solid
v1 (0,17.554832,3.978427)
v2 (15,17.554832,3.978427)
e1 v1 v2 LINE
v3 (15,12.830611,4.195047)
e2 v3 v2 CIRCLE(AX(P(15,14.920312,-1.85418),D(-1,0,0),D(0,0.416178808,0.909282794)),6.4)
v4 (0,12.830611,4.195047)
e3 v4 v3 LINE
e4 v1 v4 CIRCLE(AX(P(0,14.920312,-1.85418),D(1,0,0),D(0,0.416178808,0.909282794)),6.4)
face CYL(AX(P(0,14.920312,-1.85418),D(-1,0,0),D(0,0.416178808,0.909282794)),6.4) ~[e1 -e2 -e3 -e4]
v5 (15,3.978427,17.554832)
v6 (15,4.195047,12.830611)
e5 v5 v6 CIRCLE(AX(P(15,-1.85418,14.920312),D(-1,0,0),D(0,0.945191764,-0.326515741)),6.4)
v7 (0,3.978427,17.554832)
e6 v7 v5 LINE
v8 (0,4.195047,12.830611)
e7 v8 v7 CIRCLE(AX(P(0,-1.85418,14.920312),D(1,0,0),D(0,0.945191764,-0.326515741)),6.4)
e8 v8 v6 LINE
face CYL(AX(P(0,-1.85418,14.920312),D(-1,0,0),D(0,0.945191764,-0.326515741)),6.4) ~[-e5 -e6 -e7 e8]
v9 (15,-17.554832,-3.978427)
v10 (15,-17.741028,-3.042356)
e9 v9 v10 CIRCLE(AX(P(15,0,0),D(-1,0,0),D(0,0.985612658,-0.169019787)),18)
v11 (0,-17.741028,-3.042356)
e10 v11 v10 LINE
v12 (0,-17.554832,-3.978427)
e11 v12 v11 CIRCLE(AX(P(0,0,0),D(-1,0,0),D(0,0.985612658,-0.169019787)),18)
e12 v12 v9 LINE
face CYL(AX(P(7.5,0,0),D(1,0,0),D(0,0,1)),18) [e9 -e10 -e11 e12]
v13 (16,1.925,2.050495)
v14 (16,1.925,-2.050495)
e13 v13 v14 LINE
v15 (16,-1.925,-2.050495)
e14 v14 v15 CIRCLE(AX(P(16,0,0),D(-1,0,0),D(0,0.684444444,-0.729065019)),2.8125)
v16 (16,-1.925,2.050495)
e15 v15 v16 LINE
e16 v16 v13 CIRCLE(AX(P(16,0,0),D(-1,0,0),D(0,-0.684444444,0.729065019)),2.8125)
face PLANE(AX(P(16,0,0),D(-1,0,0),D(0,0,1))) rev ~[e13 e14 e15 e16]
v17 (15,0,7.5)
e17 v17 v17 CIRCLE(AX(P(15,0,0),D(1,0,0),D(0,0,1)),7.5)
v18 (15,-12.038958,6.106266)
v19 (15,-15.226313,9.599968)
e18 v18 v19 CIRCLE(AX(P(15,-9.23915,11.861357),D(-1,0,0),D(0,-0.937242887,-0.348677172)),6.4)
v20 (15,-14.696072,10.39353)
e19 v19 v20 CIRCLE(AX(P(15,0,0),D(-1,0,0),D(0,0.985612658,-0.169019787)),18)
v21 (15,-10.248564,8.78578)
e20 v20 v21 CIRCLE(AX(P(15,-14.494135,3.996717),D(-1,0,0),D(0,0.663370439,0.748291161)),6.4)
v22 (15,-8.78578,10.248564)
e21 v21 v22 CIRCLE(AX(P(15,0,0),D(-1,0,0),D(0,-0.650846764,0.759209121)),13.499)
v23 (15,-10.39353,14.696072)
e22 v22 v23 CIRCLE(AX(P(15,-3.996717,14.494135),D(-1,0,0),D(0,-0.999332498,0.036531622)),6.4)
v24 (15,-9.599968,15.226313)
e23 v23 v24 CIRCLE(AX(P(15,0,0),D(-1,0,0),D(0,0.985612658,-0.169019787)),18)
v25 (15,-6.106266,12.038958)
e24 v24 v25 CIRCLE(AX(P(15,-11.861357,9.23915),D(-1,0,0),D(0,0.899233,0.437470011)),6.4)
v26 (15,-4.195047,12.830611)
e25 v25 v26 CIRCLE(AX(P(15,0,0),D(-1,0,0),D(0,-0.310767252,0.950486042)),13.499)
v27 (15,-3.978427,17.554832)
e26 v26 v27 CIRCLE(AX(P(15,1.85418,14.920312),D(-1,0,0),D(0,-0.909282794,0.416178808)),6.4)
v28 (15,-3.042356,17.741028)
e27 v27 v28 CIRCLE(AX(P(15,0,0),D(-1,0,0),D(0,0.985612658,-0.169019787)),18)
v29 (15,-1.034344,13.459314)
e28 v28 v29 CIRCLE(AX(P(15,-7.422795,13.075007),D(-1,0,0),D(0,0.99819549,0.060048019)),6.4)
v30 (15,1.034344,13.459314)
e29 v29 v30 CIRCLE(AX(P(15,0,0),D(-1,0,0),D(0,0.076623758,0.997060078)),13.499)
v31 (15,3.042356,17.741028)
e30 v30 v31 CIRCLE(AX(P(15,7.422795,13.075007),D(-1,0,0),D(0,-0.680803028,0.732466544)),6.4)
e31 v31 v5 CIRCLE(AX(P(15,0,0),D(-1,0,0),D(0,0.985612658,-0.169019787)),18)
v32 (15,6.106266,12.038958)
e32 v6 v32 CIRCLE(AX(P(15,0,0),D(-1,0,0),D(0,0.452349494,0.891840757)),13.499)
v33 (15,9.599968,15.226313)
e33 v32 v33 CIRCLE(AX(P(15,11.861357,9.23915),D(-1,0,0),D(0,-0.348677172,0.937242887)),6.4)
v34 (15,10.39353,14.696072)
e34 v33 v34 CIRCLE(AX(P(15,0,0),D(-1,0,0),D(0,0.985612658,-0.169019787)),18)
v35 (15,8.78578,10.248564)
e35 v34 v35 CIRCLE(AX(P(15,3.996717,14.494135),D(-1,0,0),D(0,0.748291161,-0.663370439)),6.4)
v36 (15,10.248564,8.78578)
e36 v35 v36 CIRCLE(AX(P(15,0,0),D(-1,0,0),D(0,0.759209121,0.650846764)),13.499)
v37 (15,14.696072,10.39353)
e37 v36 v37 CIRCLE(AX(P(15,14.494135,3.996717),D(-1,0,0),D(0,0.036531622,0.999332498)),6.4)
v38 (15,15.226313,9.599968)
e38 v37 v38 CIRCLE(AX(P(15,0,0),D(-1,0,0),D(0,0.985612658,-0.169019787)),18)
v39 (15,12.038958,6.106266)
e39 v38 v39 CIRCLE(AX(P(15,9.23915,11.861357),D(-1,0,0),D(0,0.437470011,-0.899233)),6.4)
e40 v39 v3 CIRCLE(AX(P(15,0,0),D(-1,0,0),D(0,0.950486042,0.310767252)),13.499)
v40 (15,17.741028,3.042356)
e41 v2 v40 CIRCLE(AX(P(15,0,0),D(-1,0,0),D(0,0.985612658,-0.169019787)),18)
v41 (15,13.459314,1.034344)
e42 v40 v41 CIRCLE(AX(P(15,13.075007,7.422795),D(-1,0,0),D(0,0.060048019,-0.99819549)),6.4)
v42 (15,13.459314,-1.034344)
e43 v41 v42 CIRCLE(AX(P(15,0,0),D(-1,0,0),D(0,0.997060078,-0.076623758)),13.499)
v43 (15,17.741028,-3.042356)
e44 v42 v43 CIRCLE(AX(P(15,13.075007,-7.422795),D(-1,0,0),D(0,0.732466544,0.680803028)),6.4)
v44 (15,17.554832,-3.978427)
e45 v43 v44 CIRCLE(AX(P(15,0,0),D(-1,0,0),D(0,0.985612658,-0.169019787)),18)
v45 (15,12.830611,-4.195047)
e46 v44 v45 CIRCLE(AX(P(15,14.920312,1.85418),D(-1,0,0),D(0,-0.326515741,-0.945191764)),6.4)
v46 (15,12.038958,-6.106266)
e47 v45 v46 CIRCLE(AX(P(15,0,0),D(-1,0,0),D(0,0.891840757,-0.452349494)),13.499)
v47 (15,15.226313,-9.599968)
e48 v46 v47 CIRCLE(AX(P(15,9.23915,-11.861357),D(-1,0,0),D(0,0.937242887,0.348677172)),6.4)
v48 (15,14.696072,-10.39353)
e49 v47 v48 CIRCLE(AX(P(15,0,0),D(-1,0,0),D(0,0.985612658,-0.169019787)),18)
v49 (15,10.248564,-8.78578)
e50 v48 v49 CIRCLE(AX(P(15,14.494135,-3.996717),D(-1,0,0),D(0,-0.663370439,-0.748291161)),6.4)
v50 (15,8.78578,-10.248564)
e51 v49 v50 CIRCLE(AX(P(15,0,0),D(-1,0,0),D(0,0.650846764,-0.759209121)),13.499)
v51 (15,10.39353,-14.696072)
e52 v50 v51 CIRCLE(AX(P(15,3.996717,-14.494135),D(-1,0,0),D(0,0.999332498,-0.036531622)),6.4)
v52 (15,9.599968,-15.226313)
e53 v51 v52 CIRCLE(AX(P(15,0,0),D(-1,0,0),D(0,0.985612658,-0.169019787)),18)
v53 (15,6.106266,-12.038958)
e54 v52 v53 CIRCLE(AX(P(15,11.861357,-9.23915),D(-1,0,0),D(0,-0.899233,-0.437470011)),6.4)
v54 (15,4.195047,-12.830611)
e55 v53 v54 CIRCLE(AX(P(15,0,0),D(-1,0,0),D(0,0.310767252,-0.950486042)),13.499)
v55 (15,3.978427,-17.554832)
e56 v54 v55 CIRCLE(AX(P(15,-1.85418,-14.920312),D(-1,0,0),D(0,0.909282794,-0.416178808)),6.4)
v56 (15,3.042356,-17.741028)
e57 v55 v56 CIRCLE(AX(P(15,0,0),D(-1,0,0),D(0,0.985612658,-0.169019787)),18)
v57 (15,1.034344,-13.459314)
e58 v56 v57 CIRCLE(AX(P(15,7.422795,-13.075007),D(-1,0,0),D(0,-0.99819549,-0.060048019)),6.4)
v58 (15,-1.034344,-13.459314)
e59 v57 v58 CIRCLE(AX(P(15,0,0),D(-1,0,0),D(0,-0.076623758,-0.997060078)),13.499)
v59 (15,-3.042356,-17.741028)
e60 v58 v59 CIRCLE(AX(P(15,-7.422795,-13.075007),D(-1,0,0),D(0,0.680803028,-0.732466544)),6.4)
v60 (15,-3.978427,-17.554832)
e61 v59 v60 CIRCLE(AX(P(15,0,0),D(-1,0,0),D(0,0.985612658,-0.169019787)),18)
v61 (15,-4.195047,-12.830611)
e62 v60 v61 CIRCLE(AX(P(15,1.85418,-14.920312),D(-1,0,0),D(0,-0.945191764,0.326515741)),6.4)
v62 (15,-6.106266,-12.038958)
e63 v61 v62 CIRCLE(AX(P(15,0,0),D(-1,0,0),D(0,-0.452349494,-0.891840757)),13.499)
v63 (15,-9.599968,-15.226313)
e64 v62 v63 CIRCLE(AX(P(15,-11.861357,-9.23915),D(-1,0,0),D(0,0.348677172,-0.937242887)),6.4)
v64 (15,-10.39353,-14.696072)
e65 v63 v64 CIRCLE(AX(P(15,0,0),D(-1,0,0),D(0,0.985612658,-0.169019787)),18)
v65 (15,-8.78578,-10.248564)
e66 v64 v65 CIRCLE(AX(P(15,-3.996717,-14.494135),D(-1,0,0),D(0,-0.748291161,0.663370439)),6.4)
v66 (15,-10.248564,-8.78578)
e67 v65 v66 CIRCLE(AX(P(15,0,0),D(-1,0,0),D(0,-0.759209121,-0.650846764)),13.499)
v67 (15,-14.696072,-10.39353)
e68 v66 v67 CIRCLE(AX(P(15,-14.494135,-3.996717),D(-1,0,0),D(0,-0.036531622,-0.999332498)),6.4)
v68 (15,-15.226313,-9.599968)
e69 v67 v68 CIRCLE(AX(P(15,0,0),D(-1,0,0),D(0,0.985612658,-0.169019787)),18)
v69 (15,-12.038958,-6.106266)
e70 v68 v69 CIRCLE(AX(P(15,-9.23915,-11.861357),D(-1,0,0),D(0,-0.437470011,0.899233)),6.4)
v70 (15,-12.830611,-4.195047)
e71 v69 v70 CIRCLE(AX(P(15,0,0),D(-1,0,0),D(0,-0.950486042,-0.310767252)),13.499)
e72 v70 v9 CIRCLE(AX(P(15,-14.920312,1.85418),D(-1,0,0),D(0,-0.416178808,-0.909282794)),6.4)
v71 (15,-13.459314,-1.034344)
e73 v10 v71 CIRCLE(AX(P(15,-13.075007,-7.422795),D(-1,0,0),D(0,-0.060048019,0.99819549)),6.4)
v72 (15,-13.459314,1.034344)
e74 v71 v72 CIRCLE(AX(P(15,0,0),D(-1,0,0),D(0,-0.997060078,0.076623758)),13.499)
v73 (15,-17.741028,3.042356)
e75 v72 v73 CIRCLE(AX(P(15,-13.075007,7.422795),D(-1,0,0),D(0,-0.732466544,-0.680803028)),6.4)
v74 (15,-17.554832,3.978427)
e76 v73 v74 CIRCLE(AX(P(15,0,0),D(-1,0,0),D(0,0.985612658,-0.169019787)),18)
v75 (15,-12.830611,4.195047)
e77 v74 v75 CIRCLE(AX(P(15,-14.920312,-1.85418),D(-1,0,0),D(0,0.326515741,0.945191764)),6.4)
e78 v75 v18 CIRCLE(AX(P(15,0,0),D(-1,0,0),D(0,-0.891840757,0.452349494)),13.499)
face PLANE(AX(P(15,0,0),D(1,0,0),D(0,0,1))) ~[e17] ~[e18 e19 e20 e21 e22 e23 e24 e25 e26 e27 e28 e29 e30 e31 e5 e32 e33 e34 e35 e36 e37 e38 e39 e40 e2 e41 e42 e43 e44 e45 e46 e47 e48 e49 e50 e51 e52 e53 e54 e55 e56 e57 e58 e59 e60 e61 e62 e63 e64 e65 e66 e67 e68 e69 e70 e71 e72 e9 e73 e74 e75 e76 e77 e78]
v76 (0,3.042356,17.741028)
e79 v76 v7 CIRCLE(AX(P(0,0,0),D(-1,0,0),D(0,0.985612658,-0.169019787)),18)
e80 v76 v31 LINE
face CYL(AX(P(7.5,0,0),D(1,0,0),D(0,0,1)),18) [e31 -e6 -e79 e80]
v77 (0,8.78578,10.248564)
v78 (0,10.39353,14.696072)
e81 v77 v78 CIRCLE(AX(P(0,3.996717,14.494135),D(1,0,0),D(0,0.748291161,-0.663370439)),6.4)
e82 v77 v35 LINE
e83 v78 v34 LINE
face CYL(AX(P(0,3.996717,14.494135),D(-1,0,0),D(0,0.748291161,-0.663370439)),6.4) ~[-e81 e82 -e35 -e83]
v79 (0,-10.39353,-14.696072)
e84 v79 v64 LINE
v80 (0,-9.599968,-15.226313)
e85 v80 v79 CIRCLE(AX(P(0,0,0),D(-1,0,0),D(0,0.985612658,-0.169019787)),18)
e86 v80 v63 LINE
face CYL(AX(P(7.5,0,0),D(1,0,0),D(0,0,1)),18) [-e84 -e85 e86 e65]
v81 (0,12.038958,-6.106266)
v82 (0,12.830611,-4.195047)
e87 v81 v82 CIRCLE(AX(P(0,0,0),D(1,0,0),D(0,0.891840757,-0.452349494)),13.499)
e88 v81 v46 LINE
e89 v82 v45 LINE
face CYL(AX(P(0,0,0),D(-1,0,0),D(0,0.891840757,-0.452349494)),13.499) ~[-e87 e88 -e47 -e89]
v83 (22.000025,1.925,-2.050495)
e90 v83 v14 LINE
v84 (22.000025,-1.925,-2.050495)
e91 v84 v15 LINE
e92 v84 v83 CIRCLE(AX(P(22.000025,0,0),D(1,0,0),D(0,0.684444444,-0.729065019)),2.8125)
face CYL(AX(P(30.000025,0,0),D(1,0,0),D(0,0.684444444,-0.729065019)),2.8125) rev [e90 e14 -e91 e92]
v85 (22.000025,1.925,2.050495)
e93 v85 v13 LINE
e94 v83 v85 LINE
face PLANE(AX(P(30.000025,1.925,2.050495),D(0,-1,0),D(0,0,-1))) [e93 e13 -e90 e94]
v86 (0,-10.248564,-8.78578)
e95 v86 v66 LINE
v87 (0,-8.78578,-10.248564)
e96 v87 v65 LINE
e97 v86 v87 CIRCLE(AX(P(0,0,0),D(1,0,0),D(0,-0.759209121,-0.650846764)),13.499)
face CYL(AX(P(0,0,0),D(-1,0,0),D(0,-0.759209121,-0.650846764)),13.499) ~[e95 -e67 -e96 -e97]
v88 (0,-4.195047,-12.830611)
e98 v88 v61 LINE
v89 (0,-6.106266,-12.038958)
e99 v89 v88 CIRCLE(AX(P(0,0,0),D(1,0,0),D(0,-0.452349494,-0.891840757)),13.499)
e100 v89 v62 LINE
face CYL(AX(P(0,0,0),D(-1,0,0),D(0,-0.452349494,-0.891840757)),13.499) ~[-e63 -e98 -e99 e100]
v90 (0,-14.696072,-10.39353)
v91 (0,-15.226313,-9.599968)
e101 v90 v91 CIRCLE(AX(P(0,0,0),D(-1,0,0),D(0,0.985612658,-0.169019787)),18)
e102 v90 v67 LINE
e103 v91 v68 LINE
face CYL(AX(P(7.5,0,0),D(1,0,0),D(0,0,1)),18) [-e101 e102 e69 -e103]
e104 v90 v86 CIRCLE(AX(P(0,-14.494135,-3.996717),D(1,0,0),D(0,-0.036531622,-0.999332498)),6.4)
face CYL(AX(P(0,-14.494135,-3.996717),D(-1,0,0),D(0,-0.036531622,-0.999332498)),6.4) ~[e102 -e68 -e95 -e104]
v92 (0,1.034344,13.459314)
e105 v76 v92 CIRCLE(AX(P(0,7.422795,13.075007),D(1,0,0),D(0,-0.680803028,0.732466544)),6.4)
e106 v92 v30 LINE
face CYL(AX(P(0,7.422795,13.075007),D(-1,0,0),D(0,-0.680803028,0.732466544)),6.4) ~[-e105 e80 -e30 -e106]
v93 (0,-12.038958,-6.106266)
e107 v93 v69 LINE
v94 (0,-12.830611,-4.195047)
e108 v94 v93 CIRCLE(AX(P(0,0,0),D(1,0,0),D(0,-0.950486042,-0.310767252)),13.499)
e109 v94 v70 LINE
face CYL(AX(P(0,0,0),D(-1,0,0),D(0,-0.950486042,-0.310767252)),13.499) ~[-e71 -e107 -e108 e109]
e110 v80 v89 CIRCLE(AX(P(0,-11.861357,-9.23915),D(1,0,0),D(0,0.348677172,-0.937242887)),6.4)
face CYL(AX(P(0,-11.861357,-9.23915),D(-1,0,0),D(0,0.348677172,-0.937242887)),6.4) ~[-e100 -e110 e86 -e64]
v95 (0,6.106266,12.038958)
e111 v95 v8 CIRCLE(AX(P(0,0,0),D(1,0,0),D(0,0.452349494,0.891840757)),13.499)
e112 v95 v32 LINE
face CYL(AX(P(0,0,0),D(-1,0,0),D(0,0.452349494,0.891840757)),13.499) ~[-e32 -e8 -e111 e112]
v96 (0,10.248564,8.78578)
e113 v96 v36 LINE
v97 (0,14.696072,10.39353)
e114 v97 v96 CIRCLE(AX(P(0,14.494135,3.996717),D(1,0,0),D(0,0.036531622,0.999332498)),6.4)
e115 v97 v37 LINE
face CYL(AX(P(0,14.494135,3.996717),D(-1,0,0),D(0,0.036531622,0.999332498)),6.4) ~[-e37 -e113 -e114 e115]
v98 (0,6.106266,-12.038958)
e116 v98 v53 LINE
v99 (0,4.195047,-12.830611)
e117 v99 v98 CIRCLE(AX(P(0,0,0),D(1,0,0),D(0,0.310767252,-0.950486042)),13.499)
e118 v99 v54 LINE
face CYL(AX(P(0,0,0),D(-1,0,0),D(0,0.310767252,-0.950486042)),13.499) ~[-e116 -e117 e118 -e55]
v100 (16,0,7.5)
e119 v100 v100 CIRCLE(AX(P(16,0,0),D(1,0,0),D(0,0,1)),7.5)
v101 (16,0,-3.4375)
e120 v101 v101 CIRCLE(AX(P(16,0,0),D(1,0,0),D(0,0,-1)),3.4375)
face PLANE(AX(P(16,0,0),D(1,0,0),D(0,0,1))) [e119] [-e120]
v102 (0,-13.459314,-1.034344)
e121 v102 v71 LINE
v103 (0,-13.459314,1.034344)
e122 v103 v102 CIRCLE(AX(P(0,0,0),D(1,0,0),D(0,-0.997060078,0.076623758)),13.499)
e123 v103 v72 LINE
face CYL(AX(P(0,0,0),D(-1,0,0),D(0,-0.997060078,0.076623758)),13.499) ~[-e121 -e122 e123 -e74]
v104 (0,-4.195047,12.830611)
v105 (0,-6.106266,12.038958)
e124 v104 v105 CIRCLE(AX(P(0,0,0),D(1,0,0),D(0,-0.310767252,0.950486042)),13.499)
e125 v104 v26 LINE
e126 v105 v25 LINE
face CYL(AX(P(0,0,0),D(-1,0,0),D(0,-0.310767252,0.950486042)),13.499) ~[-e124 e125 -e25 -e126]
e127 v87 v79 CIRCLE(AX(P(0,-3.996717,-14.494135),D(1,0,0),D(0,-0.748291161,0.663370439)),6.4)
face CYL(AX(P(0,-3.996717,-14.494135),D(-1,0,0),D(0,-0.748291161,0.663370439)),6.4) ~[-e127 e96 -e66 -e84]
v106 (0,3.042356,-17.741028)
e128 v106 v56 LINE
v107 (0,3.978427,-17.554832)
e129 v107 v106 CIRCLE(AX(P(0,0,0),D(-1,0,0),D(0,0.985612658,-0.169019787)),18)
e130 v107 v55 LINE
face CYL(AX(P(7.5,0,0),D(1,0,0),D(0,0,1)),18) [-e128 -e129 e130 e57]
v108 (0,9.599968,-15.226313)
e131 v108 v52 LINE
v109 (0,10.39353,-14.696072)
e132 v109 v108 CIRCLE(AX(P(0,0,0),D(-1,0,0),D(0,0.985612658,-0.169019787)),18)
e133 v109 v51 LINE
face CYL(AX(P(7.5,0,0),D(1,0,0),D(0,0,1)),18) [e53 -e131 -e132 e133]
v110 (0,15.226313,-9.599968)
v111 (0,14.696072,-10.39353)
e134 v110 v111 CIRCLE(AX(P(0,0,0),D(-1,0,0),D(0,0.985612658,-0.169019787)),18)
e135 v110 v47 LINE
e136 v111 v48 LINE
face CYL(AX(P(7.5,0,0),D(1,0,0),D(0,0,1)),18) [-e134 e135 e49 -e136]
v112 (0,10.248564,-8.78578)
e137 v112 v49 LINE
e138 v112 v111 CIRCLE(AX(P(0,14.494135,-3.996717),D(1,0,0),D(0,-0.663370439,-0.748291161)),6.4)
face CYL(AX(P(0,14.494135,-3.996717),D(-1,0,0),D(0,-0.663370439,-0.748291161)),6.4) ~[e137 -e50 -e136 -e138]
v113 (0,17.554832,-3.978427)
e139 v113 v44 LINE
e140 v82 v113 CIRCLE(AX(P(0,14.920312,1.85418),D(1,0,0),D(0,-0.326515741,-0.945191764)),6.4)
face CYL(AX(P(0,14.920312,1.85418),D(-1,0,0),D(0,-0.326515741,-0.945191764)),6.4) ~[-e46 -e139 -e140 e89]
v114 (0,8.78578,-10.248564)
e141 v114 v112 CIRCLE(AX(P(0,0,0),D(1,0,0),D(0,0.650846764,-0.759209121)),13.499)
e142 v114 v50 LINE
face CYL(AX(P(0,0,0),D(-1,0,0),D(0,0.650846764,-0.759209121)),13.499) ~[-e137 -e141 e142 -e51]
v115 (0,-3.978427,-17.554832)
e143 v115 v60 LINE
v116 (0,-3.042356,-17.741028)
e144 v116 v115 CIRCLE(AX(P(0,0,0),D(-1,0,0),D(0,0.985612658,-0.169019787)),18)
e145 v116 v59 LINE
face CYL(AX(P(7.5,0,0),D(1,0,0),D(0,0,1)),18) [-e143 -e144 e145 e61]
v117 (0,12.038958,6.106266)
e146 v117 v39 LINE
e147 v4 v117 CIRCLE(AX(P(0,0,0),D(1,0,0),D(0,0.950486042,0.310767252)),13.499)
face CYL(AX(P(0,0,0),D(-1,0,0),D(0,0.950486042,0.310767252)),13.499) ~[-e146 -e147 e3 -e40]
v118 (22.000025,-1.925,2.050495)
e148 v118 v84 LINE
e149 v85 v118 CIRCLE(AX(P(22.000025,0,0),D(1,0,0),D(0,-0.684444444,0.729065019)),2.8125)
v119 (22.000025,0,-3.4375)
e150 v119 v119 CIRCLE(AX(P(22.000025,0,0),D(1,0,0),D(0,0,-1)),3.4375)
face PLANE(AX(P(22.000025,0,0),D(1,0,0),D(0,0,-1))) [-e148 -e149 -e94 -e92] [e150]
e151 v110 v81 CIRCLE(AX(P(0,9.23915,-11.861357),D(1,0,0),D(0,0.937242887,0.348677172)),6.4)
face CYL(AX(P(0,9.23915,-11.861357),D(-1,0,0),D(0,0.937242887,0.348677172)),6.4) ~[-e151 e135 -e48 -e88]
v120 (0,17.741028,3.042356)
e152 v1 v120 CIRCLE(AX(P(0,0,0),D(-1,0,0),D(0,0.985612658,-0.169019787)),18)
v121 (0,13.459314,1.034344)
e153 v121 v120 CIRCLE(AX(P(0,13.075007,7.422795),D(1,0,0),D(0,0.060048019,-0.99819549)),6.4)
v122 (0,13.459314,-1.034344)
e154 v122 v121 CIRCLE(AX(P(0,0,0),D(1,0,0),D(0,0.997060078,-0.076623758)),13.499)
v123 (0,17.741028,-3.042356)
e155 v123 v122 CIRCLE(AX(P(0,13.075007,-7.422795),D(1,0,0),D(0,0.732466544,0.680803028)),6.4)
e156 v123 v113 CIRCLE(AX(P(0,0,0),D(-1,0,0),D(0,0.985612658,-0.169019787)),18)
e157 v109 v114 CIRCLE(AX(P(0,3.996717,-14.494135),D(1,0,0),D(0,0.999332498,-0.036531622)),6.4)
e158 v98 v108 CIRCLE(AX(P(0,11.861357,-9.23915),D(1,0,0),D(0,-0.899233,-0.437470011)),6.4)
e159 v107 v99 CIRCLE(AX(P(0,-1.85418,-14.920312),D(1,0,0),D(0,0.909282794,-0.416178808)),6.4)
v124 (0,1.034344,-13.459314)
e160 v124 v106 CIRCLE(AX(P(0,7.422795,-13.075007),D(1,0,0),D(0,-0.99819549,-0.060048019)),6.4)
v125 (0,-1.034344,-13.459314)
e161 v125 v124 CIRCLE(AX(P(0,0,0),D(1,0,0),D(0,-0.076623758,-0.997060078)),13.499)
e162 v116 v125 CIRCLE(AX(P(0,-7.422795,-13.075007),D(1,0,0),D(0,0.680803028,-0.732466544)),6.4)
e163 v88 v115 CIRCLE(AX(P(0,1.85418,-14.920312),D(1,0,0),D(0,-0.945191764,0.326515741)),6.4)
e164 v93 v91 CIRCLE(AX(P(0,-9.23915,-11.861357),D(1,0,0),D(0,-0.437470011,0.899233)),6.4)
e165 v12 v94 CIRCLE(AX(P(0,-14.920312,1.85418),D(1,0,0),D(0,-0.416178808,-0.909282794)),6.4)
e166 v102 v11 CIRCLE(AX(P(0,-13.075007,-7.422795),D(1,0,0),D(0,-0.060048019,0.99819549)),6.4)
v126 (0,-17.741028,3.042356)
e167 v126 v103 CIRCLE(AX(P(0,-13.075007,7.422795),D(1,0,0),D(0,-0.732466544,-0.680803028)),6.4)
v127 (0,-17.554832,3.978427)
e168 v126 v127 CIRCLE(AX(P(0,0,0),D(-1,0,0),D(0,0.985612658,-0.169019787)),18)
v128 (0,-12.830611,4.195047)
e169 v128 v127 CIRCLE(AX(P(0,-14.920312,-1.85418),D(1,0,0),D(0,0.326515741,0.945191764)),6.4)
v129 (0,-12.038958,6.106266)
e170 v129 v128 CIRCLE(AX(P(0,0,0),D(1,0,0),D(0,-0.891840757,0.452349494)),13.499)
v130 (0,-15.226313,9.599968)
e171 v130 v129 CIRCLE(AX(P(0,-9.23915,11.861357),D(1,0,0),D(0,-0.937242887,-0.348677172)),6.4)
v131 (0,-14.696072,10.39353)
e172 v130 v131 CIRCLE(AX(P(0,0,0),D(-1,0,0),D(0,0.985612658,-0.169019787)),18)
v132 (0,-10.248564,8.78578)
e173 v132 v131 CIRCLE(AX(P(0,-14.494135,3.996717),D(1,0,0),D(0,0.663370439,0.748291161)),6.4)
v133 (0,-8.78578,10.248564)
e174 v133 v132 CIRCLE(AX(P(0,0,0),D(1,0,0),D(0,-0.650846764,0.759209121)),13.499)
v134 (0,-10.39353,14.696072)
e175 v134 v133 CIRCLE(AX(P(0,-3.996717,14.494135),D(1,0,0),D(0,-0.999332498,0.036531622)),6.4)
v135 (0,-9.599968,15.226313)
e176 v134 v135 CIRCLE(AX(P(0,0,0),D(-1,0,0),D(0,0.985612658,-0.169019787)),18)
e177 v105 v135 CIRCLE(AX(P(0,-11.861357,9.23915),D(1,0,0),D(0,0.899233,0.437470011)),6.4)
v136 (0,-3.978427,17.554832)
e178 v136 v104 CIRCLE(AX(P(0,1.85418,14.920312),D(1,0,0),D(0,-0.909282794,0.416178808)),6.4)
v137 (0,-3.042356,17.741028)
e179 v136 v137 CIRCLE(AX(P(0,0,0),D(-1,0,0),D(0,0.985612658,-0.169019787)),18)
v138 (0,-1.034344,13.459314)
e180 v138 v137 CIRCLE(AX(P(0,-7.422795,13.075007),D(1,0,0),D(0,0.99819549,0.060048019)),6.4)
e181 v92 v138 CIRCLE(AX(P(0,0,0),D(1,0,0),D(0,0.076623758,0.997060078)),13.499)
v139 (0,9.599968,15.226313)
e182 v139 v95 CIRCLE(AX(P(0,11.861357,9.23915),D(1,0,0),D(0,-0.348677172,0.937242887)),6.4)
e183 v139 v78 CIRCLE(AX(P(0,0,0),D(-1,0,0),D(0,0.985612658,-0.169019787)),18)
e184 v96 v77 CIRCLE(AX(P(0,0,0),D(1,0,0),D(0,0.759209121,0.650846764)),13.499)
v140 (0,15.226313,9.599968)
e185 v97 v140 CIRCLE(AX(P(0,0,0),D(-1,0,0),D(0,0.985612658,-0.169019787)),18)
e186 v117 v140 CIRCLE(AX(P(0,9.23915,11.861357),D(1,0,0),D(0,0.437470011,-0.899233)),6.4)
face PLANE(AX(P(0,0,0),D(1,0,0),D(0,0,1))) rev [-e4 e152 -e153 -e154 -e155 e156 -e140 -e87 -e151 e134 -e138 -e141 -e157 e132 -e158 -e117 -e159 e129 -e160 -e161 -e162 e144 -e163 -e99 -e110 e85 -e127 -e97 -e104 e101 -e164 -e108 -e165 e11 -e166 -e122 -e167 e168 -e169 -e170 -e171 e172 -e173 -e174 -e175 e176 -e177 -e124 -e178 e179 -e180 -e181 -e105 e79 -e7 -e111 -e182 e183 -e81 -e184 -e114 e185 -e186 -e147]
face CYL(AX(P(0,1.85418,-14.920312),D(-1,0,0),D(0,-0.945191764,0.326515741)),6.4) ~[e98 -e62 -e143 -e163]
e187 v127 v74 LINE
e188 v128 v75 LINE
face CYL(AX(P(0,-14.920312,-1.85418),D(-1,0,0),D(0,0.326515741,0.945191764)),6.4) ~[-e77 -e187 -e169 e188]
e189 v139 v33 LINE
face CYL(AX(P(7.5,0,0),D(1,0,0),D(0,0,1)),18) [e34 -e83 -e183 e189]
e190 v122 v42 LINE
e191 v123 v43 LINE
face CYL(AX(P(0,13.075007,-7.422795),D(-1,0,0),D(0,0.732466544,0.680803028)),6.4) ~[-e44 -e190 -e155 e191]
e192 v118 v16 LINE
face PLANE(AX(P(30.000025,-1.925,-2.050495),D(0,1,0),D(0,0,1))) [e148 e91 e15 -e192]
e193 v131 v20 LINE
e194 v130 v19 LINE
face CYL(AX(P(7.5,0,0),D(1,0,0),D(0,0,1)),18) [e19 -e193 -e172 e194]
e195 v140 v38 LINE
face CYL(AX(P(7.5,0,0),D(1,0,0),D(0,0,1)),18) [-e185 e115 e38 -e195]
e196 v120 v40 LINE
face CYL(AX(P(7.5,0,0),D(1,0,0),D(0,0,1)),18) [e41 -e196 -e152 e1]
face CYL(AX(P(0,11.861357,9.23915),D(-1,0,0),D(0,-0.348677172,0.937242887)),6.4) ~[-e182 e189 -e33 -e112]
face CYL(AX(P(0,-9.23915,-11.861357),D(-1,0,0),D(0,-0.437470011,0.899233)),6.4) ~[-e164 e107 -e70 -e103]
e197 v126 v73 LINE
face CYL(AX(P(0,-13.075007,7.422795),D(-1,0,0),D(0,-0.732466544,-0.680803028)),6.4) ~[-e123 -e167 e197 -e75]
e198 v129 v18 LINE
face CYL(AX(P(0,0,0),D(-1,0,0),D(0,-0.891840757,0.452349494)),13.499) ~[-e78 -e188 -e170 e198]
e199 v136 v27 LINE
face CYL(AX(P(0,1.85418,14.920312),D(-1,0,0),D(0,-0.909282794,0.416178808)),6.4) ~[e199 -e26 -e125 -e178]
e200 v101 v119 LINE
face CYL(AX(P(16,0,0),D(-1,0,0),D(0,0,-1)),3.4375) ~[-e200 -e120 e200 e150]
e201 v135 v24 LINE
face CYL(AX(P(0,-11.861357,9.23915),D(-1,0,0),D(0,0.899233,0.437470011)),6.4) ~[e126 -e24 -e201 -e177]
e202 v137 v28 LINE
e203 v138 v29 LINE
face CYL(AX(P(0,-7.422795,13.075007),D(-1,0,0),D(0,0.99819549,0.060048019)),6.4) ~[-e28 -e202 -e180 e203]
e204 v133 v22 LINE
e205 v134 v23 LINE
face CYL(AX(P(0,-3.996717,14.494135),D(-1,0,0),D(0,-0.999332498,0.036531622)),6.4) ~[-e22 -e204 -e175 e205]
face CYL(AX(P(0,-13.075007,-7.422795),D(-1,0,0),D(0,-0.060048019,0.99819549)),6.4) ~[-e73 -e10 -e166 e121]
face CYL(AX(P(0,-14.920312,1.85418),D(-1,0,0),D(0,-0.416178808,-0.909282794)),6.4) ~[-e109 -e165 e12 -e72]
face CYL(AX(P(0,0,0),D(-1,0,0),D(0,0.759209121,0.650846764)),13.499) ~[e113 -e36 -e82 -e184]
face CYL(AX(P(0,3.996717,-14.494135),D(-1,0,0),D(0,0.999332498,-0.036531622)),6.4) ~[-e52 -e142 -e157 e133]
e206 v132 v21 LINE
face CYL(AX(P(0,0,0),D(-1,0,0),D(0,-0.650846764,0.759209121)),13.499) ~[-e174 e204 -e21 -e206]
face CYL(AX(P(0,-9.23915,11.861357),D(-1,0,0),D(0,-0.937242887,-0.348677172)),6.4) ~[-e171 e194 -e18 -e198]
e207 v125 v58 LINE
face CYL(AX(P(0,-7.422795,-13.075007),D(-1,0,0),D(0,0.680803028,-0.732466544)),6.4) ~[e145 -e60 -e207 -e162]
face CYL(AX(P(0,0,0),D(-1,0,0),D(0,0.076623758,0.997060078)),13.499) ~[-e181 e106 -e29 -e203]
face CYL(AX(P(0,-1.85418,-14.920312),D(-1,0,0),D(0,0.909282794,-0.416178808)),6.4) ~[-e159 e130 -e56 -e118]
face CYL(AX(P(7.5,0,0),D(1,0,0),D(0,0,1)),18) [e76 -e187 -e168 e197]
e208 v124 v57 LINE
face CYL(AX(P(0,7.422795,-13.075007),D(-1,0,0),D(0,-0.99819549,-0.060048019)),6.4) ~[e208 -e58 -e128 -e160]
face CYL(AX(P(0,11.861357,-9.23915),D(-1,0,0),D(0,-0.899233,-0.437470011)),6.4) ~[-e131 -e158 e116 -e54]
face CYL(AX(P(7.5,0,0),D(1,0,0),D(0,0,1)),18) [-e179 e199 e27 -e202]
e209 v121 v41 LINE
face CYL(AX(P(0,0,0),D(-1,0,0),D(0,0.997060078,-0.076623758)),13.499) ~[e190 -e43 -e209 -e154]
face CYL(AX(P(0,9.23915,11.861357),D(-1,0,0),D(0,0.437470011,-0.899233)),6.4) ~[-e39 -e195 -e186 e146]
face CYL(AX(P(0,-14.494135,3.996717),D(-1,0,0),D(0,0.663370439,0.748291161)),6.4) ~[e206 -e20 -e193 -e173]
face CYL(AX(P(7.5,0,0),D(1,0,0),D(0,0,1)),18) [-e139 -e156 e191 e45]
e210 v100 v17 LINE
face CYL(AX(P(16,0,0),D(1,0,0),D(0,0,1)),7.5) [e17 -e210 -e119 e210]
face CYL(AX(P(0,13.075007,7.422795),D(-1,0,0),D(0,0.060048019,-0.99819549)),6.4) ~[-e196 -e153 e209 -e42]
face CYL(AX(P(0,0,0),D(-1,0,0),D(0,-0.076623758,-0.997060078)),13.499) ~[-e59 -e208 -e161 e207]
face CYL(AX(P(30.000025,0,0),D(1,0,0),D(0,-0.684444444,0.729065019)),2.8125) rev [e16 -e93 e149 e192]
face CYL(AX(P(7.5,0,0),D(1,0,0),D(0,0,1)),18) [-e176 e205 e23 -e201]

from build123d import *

# Parameters (mm, degrees)
BASPROSKE_W         = 15
BASPROSKE_H         = 18
TOOTHCUT_DEPTH      = 30.546573405
TEETHCUTS_COUNT     = 16
TEETHCUTS_ANGLE     = 337.5
HUBNEABOTSKE_R      = 5
HUBNEARBOTH_DEPTH   = 15.0000254
HUBFAR_START        = 15.0000254
HUBFARSKE_R         = 5
HUBFAR_DEPTH        = 15.0000254
BORSKE_R            = 2.5
BORE_DEPTH          = 45.0000508
CUT_EXTRUDE1_START  = -15.0000254
SKETCH3_R           = 5
CUT_EXTRUDE1_DEPTH  = 15.0000254
BOSS_EXTRUDE1_START = -20
SKETCH5_R           = 2.5
BOSS_EXTRUDE1_DEPTH = 20
BOSS_EXTRUDE2_START = 1
SKETCH6_R           = 7.5
SKETCH6_R_2         = 5
BOSS_EXTRUDE2_DEPTH = 1
SKETCH7_R           = 7.5
SKETCH7_R_2         = 3.4375
CUT_EXTRUDE2_DEPTH  = 30.757152718
BOSS_EXTRUDE3_START = 10.0000254
SKETCH8_R           = 2.5
BOSS_EXTRUDE3_DEPTH = 10.0000254
SKETCH10_OUTSIDE_W  = 49.174
SKETCH10_OUTSIDE_H  = 49.174
SKETCH10_OUTSIDE_R  = 3.4375
CUT_EXTRUDE3_DEPTH  = 14.0000254
CUT_EXTRUDE4_START  = -8
SKETCH12_R          = 3.4375
CUT_EXTRUDE4_DEPTH  = 8


with BuildPart() as part:
    # BasProSke → Base-Revolve (revolve)
    with BuildSketch(Plane(origin=(0, 0, 0), x_dir=(1, 0, 0), z_dir=(0, 1, 0)), mode=Mode.PRIVATE) as base_revolve_sk:
        with Locations((7.5, 9)):
            Rectangle(BASPROSKE_W, BASPROSKE_H)
    revolve(base_revolve_sk.sketch.rotate(Axis((-10, 0, 0), (1, 0, 0)), 180), axis=Axis((-10, 0, 0), (1, 0, 0)))

    # TooCutSke → ToothCut (cut, through all)
    with BuildSketch(Plane(origin=(0, 0, 0), x_dir=(0, 0, -1), z_dir=(1, 0, 0))):
        with BuildLine():
            ThreePointArc((1.03434411, 13.459313997), (0, 13.499), (-1.03434411, 13.459313997))
            ThreePointArc((-1.03434411, 13.459313997), (-1.635143665, 15.806872195), (-3.065655864, 17.762792553))
            ThreePointArc((-3.065655864, 17.762792553), (0, 18.0254), (3.065655864, 17.762792553))
            ThreePointArc((3.065655864, 17.762792553), (1.635143665, 15.806872195), (1.03434411, 13.459313997))
        make_face()
    toothcut = extrude(amount=TOOTHCUT_DEPTH, mode=Mode.SUBTRACT)

    # TeethCuts: ToothCut ×16 about axis
    teethcuts_axis = Axis((-10, 0, 0), (1, 0, 0))
    for i in range(1, TEETHCUTS_COUNT):
        add(toothcut.rotate(teethcuts_axis, i * TEETHCUTS_ANGLE / (TEETHCUTS_COUNT - 1)), mode=Mode.SUBTRACT)

    # HubNeaBotSke → HubNearBoth (add)
    with BuildSketch(Plane.ZY):
        with Locations(Location((0, 0, 0), (0, 0, 180))):
            Circle(HUBNEABOTSKE_R)
    extrude(amount=HUBNEARBOTH_DEPTH)

    # HubFarSke → HubFar (add)
    with BuildSketch(Plane(origin=(15, 0, 0), x_dir=(0, 0, -1), z_dir=(1, 0, 0)).offset(HUBFAR_START)):
        Circle(HUBFARSKE_R)
    extrude(amount=-HUBFAR_DEPTH)

    # BorSke → Bore (cut, symmetric)
    with BuildSketch(Plane(origin=(0, 0, 0), x_dir=(0, 0, -1), z_dir=(1, 0, 0))):
        with Locations(Location((0, 0, 0), (0, 0, 180))):
            Circle(BORSKE_R)
    extrude(amount=BORE_DEPTH, both=True, mode=Mode.SUBTRACT)

    # Sketch3 → Cut-Extrude1 (cut)
    with BuildSketch(Plane.ZY.offset(15.0000254).offset(CUT_EXTRUDE1_START)):
        Circle(SKETCH3_R)
    extrude(amount=CUT_EXTRUDE1_DEPTH, mode=Mode.SUBTRACT)

    # Sketch5 → Boss-Extrude1 (add)
    with BuildSketch(Plane.ZY.offset(BOSS_EXTRUDE1_START)):
        Circle(SKETCH5_R)
    extrude(amount=BOSS_EXTRUDE1_DEPTH)

    # Sketch6 → Boss-Extrude2 (add)
    with BuildSketch(Plane(origin=(15, 0, 0), x_dir=(0, 0, -1), z_dir=(1, 0, 0)).offset(BOSS_EXTRUDE2_START)):
        with Locations(Location((0, 0, 0), (0, 0, 180))):
            Circle(SKETCH6_R)
        Circle(SKETCH6_R_2, mode=Mode.SUBTRACT)
    extrude(amount=-BOSS_EXTRUDE2_DEPTH)

    # Sketch7 → Cut-Extrude2 (cut, through all)
    with BuildSketch(Plane(origin=(16, 0, 0), x_dir=(0, 0, -1), z_dir=(1, 0, 0))):
        with Locations(Location((0, 0, 0), (0, 0, 180))):
            Circle(SKETCH7_R)
        Circle(SKETCH7_R_2, mode=Mode.SUBTRACT)
    extrude(amount=CUT_EXTRUDE2_DEPTH, mode=Mode.SUBTRACT)

    # Sketch8 → Boss-Extrude3 (add)
    with BuildSketch(Plane(origin=(20, 0, 0), x_dir=(0, 0, -1), z_dir=(1, 0, 0)).offset(BOSS_EXTRUDE3_START)):
        Circle(SKETCH8_R)
    extrude(amount=-BOSS_EXTRUDE3_DEPTH)

    # Sketch10 outside → Cut-Extrude3 (cut)
    # profile 1 of 2: a face of its own
    with BuildSketch(Plane(origin=(30.0000254, 0, 0), x_dir=(0, 0, -1), z_dir=(1, 0, 0))):
        Rectangle(SKETCH10_OUTSIDE_W, SKETCH10_OUTSIDE_H)
        Circle(SKETCH10_OUTSIDE_R, mode=Mode.SUBTRACT)
    # profile 2 of 2: a face of its own
    with BuildSketch(Plane(origin=(30.0000254, 0, 0), x_dir=(0, 0, -1), z_dir=(1, 0, 0))):
        with BuildLine():
            Line((-2.050495367, 1.925), (2.050495367, 1.925))
            ThreePointArc((2.050495367, 1.925), (2.8125, 0), (2.050495367, -1.925))
            Line((2.050495367, -1.925), (-2.050495367, -1.925))
            ThreePointArc((-2.050495367, -1.925), (-2.8125, 0), (-2.050495367, 1.925))
        make_face()
    extrude(amount=-CUT_EXTRUDE3_DEPTH, mode=Mode.SUBTRACT)

    # Sketch12 → Cut-Extrude4 (cut)
    with BuildSketch(Plane(origin=(30.0000254, 0, 0), x_dir=(0, 0, -1), z_dir=(1, 0, 0)).offset(CUT_EXTRUDE4_START)):
        Circle(SKETCH12_R)
    extrude(amount=CUT_EXTRUDE4_DEPTH, mode=Mode.SUBTRACT)


solid = part.part
